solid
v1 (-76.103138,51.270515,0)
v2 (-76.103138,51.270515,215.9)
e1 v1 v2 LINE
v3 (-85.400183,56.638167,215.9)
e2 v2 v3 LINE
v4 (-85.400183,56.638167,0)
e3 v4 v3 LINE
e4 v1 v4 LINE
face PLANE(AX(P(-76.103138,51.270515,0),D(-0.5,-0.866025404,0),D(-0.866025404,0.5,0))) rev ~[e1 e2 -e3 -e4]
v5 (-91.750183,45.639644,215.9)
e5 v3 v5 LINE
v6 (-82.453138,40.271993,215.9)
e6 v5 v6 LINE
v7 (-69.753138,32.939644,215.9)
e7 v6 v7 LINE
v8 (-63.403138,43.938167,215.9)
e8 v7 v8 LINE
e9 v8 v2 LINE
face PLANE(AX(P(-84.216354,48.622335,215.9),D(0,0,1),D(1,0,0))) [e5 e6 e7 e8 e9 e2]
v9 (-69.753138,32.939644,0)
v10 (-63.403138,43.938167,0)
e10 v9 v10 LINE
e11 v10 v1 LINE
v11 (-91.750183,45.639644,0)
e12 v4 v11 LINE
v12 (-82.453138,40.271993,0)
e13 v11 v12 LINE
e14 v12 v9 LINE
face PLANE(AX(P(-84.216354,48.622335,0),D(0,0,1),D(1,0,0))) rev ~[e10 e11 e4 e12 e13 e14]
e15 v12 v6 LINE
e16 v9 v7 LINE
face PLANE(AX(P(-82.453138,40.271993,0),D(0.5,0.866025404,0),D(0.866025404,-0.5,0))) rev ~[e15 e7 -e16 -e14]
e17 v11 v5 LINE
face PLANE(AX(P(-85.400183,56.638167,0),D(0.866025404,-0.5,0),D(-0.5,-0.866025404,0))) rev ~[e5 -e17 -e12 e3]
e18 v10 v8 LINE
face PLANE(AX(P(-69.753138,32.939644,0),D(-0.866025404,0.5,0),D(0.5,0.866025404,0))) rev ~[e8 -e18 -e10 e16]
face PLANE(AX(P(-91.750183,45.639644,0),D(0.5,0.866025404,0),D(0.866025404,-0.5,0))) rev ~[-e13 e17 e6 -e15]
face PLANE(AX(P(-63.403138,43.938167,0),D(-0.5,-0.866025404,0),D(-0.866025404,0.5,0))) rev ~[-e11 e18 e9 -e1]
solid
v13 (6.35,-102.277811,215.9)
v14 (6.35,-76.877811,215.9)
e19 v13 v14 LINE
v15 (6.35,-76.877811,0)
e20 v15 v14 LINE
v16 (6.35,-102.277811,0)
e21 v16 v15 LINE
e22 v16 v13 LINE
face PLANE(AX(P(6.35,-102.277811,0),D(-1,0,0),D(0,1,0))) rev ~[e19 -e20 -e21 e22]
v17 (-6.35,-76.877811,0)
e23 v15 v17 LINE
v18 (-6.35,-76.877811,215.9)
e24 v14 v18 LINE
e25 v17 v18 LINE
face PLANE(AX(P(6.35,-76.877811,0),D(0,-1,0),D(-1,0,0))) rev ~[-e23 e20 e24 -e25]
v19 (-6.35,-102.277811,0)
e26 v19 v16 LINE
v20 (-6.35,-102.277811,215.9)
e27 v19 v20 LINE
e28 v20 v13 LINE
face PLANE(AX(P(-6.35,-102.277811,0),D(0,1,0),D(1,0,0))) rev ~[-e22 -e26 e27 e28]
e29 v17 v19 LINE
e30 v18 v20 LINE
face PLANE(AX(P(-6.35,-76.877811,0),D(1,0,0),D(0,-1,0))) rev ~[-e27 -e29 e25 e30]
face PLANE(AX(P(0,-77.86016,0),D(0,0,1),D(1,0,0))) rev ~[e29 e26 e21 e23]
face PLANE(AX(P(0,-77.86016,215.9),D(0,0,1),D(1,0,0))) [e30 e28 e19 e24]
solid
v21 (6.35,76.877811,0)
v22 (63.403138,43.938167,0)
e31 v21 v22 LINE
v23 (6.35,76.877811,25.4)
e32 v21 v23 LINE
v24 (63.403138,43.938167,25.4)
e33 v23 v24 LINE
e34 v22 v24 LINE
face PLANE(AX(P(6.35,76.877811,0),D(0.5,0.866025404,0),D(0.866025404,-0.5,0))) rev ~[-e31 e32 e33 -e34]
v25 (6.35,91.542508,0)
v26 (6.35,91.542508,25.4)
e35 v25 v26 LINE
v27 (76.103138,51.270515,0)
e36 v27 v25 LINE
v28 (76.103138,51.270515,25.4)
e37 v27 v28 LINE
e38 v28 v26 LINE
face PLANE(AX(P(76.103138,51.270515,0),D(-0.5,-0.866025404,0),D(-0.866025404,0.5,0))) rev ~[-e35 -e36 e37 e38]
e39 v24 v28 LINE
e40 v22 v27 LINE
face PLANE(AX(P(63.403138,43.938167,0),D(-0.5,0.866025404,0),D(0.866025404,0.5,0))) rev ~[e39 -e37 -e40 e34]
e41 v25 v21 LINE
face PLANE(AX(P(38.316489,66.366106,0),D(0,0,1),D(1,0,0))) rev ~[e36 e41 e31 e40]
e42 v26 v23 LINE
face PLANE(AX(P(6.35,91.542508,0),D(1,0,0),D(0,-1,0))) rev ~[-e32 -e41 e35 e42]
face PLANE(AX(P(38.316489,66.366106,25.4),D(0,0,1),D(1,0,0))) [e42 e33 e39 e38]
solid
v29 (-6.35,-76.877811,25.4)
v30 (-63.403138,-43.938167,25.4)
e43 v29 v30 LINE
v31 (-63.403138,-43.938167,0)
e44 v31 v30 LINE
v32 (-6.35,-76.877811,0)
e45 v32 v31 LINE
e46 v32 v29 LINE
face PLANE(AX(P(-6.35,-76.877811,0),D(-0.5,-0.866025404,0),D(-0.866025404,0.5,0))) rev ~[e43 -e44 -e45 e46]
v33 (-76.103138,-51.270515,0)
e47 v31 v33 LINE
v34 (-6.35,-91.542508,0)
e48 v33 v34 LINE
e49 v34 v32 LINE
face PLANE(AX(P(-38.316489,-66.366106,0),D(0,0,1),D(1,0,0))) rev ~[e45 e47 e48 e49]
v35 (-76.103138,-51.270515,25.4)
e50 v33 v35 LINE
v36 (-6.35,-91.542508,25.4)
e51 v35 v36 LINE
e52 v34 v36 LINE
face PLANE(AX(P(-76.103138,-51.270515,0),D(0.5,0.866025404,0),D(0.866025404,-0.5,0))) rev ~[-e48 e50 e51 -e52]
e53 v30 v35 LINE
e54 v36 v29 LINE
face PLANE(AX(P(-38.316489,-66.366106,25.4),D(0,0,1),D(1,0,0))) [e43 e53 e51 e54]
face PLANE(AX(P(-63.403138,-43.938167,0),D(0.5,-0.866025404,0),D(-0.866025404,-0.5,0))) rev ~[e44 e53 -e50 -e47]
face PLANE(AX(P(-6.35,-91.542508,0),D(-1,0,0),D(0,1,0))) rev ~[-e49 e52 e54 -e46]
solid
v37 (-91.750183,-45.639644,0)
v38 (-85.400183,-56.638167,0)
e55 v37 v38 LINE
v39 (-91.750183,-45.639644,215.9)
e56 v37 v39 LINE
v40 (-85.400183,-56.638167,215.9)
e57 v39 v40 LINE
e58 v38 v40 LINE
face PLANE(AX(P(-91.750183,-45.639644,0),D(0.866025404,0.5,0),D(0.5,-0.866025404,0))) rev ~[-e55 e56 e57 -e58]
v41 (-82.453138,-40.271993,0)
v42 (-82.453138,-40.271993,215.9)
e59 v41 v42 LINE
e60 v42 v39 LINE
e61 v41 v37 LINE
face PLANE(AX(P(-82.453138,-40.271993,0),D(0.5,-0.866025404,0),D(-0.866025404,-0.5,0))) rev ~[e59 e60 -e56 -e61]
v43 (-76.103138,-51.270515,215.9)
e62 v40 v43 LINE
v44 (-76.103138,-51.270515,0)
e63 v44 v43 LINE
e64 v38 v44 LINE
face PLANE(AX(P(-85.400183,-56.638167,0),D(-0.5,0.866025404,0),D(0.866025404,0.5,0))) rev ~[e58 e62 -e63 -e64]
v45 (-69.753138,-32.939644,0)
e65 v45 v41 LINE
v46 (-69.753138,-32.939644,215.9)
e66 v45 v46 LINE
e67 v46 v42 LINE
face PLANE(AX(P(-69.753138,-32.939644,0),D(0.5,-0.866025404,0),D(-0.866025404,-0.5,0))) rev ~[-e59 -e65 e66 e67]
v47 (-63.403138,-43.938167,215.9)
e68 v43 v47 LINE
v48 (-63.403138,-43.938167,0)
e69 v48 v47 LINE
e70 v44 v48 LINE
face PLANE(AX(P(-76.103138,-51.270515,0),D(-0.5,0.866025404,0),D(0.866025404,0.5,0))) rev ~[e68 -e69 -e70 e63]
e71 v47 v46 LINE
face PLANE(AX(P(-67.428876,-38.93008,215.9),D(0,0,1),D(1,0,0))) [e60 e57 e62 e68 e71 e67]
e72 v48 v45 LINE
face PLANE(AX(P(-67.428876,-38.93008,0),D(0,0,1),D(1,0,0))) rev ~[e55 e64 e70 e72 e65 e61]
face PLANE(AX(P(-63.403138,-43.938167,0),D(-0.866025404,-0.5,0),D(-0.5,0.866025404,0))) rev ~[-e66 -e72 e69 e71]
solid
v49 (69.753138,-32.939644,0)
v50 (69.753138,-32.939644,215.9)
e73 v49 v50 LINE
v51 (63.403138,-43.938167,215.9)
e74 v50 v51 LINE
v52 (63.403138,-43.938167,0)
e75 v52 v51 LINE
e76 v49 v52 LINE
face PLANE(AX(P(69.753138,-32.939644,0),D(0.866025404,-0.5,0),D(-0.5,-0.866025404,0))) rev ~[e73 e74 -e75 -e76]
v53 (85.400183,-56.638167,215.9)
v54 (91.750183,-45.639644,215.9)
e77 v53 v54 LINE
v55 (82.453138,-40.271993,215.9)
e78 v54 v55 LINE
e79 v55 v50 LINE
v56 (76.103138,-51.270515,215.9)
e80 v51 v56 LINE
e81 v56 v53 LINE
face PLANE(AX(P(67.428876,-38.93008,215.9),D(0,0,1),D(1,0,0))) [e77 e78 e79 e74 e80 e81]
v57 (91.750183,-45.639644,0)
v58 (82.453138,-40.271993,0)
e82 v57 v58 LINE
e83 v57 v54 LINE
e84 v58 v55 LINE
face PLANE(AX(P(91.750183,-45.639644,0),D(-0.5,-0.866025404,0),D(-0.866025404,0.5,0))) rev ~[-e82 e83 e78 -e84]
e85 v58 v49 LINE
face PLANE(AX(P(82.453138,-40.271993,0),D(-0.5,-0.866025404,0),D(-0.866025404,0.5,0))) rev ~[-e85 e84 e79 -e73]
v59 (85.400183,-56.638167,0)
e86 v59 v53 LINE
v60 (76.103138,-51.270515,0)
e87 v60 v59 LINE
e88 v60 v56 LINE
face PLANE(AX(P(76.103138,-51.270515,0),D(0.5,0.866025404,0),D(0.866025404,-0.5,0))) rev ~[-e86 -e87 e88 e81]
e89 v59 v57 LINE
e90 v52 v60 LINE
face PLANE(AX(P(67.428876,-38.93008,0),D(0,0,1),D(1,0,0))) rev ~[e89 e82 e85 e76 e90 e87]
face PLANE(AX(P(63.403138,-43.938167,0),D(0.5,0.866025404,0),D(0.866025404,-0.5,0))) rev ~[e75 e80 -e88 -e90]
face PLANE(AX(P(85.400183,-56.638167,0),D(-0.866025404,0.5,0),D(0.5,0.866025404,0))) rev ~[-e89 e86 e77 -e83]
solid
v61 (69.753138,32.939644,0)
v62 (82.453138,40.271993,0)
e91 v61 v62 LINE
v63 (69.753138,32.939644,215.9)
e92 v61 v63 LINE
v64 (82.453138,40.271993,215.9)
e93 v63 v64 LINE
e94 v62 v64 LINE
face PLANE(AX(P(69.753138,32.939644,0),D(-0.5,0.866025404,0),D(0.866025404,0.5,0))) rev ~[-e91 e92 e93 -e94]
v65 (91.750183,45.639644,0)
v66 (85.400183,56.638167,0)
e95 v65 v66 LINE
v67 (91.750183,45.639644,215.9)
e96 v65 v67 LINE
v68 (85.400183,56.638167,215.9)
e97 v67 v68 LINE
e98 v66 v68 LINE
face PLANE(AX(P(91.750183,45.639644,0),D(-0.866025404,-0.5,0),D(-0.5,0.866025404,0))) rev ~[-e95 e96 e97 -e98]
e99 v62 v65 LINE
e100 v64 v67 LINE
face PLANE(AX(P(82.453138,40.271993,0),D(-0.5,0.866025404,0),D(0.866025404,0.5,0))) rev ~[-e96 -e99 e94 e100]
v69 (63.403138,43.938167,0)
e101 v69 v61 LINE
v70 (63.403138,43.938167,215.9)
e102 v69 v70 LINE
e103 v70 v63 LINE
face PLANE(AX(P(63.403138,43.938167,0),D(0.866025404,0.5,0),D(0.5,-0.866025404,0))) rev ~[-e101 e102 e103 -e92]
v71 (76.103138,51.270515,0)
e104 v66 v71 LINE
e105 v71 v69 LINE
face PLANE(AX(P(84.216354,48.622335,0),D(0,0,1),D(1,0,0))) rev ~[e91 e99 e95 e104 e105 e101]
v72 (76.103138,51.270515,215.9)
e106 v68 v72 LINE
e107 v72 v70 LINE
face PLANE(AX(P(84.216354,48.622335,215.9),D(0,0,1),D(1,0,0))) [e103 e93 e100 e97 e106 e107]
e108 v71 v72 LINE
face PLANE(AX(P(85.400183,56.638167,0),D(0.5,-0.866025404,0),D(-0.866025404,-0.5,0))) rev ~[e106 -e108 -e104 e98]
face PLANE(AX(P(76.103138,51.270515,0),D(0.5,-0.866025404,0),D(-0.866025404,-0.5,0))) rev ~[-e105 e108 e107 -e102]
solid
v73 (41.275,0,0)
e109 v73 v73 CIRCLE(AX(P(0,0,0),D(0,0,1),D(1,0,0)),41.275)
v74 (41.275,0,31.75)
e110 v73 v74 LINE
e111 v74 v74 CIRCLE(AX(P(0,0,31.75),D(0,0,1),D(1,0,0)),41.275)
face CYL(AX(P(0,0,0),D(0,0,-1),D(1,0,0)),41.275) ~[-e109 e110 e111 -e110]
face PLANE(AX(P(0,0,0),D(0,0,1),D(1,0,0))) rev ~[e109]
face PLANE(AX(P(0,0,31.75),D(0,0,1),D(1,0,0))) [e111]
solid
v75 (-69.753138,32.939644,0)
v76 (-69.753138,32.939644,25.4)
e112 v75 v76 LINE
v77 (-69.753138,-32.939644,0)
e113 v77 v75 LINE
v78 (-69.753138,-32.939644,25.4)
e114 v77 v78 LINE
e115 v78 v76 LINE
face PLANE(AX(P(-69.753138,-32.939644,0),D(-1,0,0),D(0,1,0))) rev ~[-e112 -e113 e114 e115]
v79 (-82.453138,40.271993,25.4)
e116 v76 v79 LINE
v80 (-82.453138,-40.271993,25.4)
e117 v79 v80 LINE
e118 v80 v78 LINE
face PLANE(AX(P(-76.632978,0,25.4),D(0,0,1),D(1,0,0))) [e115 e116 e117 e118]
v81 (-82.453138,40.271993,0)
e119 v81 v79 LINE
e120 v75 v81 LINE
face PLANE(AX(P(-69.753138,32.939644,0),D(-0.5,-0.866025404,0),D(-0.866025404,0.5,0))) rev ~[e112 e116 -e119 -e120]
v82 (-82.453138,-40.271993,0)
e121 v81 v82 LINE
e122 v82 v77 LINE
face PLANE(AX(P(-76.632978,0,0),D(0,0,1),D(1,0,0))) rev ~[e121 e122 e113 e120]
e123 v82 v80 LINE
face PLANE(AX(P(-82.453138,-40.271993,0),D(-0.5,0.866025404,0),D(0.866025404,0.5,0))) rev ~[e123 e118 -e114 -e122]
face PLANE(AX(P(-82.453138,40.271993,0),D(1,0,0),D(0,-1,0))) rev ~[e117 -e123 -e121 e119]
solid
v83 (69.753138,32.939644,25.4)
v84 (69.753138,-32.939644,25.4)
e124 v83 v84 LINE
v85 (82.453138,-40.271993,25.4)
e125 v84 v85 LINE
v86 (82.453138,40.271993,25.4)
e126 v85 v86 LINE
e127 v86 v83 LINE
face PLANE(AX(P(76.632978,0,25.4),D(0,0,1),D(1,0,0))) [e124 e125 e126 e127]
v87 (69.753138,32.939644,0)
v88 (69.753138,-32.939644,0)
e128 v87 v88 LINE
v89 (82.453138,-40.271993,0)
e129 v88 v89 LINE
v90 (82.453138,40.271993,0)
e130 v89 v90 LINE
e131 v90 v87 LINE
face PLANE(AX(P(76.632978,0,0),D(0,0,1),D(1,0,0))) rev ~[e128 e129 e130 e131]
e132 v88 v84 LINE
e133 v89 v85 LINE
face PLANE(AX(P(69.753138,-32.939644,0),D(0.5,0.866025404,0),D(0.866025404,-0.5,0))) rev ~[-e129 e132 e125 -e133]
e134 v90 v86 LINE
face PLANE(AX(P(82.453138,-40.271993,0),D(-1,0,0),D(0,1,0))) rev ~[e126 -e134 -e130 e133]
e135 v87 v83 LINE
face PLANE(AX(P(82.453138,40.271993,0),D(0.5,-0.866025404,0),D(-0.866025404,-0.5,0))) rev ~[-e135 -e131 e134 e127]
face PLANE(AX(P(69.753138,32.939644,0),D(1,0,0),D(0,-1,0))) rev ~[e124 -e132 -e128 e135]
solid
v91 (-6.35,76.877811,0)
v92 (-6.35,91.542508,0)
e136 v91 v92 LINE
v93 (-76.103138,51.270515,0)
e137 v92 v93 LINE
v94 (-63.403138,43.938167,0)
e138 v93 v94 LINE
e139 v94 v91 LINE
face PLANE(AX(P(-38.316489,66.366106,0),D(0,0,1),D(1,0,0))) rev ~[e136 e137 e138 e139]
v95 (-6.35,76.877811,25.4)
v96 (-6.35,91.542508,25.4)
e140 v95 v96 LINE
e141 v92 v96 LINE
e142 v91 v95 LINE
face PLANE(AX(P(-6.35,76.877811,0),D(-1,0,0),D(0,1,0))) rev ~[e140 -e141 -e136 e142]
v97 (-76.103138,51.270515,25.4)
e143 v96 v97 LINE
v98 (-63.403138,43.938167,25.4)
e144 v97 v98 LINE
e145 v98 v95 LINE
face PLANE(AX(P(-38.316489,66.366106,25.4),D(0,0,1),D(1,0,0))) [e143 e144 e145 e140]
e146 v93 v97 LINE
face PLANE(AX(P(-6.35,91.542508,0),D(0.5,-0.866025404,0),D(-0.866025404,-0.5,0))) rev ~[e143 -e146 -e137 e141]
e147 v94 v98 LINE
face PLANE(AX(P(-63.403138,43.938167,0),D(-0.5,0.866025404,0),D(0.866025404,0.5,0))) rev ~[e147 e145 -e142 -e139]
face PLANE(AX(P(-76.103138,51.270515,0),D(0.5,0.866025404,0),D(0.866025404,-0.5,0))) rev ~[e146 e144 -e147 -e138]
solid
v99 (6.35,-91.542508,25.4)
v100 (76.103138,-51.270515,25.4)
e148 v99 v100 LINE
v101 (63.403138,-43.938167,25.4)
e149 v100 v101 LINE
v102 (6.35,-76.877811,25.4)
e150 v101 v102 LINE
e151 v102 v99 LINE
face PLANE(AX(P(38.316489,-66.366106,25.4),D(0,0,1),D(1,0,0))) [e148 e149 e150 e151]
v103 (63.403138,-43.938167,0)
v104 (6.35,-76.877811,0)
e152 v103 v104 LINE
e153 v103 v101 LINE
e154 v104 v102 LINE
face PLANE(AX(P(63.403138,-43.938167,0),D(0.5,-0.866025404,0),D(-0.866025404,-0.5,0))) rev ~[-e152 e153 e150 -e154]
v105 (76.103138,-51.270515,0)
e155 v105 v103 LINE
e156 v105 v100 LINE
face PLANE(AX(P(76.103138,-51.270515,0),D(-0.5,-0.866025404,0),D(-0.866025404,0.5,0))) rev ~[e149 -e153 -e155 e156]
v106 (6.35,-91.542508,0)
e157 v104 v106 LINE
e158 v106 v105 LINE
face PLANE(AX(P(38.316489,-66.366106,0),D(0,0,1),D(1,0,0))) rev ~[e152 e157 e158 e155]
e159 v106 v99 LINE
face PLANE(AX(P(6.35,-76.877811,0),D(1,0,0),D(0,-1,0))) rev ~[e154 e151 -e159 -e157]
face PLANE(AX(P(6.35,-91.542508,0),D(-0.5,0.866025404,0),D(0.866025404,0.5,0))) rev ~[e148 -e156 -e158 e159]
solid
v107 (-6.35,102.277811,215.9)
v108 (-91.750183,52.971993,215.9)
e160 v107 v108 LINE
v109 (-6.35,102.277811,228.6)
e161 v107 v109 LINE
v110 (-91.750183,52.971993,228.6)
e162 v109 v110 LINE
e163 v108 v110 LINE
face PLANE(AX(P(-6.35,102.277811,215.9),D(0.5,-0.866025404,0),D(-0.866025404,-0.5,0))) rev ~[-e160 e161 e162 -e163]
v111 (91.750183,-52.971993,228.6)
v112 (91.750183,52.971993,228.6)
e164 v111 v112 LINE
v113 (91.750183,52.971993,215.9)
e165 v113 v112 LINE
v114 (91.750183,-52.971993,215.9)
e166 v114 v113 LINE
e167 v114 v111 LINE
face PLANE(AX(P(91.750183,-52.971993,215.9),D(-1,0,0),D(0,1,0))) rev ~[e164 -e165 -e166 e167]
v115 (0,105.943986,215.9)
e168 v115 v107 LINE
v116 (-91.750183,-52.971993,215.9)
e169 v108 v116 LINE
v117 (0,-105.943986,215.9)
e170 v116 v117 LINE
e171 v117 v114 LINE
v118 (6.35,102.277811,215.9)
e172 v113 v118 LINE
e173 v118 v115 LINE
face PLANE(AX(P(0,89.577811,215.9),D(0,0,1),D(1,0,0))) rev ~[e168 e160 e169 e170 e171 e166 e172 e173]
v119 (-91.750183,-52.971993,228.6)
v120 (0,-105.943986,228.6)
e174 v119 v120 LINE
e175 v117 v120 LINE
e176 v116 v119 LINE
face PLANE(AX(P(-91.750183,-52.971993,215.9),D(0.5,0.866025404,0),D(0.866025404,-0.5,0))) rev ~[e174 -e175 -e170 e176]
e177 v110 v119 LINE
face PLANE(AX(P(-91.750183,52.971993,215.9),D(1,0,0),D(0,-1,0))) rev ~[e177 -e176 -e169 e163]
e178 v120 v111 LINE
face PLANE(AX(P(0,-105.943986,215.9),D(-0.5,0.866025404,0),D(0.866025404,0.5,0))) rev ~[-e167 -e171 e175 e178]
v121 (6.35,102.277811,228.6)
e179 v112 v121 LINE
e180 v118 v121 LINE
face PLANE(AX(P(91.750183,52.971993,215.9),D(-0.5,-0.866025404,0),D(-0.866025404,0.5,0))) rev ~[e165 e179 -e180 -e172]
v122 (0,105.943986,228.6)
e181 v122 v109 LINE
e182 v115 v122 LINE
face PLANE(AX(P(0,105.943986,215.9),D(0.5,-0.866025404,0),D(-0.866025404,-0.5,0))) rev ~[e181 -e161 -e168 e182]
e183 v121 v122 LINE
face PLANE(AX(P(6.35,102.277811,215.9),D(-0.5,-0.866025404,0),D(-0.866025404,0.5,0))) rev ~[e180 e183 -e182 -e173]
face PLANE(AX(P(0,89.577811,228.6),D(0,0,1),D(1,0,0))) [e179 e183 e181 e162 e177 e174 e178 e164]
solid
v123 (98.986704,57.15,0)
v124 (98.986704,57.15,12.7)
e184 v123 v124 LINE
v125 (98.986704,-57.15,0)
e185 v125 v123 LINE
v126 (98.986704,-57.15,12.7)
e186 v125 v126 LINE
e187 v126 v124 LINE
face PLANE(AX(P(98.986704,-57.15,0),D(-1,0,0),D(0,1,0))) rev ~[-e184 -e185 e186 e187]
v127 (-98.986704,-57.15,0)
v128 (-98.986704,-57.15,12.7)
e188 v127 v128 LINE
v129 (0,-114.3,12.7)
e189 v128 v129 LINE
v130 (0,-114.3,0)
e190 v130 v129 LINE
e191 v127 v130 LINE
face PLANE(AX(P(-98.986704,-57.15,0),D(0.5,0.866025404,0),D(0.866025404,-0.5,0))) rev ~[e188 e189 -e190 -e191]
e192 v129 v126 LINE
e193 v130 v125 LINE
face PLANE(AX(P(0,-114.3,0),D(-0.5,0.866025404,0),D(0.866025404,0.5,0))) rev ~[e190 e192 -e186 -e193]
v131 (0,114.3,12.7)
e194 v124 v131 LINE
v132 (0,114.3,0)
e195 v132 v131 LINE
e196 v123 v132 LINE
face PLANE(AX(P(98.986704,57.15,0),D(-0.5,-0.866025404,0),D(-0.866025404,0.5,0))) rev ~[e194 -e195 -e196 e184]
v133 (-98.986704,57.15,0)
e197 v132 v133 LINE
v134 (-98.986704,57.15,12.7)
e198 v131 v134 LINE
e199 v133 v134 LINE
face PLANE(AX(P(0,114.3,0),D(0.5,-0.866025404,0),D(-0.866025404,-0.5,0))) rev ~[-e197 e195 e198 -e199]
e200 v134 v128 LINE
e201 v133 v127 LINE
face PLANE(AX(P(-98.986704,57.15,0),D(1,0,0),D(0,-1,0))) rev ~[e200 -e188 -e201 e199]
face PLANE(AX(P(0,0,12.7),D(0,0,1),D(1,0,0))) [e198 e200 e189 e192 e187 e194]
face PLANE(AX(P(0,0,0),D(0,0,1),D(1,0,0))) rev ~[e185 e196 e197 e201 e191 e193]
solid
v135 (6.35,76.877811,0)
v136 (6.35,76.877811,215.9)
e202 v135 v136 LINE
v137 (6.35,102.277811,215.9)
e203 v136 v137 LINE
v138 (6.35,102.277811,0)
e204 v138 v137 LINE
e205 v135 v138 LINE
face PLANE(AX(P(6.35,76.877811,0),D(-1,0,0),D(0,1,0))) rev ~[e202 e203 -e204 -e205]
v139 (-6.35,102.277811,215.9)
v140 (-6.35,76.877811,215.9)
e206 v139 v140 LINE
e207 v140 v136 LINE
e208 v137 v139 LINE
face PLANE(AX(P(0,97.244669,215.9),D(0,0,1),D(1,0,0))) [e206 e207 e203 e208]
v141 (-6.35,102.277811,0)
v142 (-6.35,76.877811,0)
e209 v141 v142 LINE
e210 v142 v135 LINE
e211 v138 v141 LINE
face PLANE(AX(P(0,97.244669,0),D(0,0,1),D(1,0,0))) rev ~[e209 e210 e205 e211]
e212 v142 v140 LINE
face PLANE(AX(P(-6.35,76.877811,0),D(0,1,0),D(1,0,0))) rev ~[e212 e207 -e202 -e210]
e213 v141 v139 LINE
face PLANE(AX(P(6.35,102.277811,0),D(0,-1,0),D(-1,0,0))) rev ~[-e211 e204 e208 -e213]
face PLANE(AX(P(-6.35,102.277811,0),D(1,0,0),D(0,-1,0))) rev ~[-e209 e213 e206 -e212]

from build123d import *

# Parameters (mm, degrees)
F0_R     = 41.275
F1_DEPTH = 12.7
F2_DEPTH = 25.4
F3_DEPTH = 215.9
F4_DEPTH = 31.75
F5_W     = 12.7
F5_H     = 25.4
F6_DEPTH = 12.7


with BuildPart() as f1:
    # F0 (on Top) → F1 (new body)
    with BuildSketch(Plane.XY):
        Polygon((98.9867036526, -57.15), (98.9867036526, 57.15), (0, 114.3), (-98.9867036526, 57.15), (-98.9867036526, -57.15), (0, -114.3), align=None)
        Polygon((91.7501829945, 45.6396444314), (82.4531377384, 40.2719928501), (82.4531377384, -40.2719928501), (91.7501829945, -45.6396444314), (85.4001829945, -56.6381670594), (76.1031377384, -51.2705154782), (6.35, -91.5425083282), (6.35, -102.2778114908), (-6.35, -102.2778114908), (-6.35, -91.5425083282), (-76.1031377384, -51.2705154782), (-85.4001829945, -56.6381670594), (-91.7501829945, -45.6396444314), (-82.4531377384, -40.2719928501), (-82.4531377384, 40.2719928501), (-91.7501829945, 45.6396444314), (-85.4001829945, 56.6381670594), (-76.1031377384, 51.2705154782), (-6.35, 91.5425083282), (-6.35, 102.2778114908), (6.35, 102.2778114908), (6.35, 91.5425083282), (76.1031377384, 51.2705154782), (85.4001829945, 56.6381670594), align=None, mode=Mode.SUBTRACT)
        Polygon((69.7531377384, -32.9396444314), (69.7531377384, 32.9396444314), (63.4031377384, 43.9381670594), (6.35, 76.8778114908), (-6.35, 76.8778114908), (-63.4031377384, 43.9381670594), (-69.7531377384, 32.9396444314), (-69.7531377384, -32.9396444314), (-63.4031377384, -43.9381670594), (-6.35, -76.8778114908), (6.35, -76.8778114908), (63.4031377384, -43.9381670594), align=None)
        Circle(F0_R, mode=Mode.SUBTRACT)
        Circle(F0_R)
        Polygon((63.4031377384, 43.9381670594), (76.1031377384, 51.2705154782), (6.35, 91.5425083282), (6.35, 76.8778114908), align=None)
        Polygon((6.35, -91.5425083282), (76.1031377384, -51.2705154782), (63.4031377384, -43.9381670594), (6.35, -76.8778114908), align=None)
        Polygon((82.4531377384, -40.2719928501), (82.4531377384, 40.2719928501), (69.7531377384, 32.9396444314), (69.7531377384, -32.9396444314), align=None)
        Polygon((-6.35, 76.8778114908), (-6.35, 91.5425083282), (-76.1031377384, 51.2705154782), (-63.4031377384, 43.9381670594), align=None)
        Polygon((-69.7531377384, -32.9396444314), (-69.7531377384, 32.9396444314), (-82.4531377384, 40.2719928501), (-82.4531377384, -40.2719928501), align=None)
        Polygon((-6.35, -91.5425083282), (-6.35, -76.8778114908), (-63.4031377384, -43.9381670594), (-76.1031377384, -51.2705154782), align=None)
        Polygon((82.4531377384, 40.2719928501), (82.4531377384, 47.6043412688), (76.1031377384, 51.2705154782), (63.4031377384, 43.9381670594), (69.7531377384, 40.2719928501), (69.7531377384, 32.9396444314), align=None)
        Polygon((0, -95.2086825376), (6.35, -91.5425083282), (6.35, -76.8778114908), (0, -80.5439857002), (-6.35, -76.8778114908), (-6.35, -91.5425083282), align=None)
        Polygon((82.4531377384, -47.6043412688), (82.4531377384, -40.2719928501), (69.7531377384, -32.9396444314), (69.7531377384, -40.2719928501), (63.4031377384, -43.9381670594), (76.1031377384, -51.2705154782), align=None)
        Polygon((6.35, 76.8778114908), (6.35, 91.5425083282), (0, 95.2086825376), (-6.35, 91.5425083282), (-6.35, 76.8778114908), (0, 80.5439857002), align=None)
        Polygon((-63.4031377384, 43.9381670594), (-76.1031377384, 51.2705154782), (-82.4531377384, 47.6043412688), (-82.4531377384, 40.2719928501), (-69.7531377384, 32.9396444314), (-69.7531377384, 40.2719928501), align=None)
        Polygon((-76.1031377384, -51.2705154782), (-63.4031377384, -43.9381670594), (-69.7531377384, -40.2719928501), (-69.7531377384, -32.9396444314), (-82.4531377384, -40.2719928501), (-82.4531377384, -47.6043412688), align=None)
        Polygon((76.1031377384, 51.2705154782), (82.4531377384, 47.6043412688), (82.4531377384, 40.2719928501), (91.7501829945, 45.6396444314), (85.4001829945, 56.6381670594), align=None)
        Polygon((91.7501829945, -45.6396444314), (82.4531377384, -40.2719928501), (82.4531377384, -47.6043412688), (76.1031377384, -51.2705154782), (85.4001829945, -56.6381670594), align=None)
        Polygon((6.35, -102.2778114908), (6.35, -91.5425083282), (0, -95.2086825376), (-6.35, -91.5425083282), (-6.35, -102.2778114908), align=None)
        Polygon((0, 95.2086825376), (6.35, 91.5425083282), (6.35, 102.2778114908), (-6.35, 102.2778114908), (-6.35, 91.5425083282), align=None)
        Polygon((-82.4531377384, 47.6043412688), (-76.1031377384, 51.2705154782), (-85.4001829945, 56.6381670594), (-91.7501829945, 45.6396444314), (-82.4531377384, 40.2719928501), align=None)
        Polygon((-85.4001829945, -56.6381670594), (-76.1031377384, -51.2705154782), (-82.4531377384, -47.6043412688), (-82.4531377384, -40.2719928501), (-91.7501829945, -45.6396444314), align=None)
        Polygon((0, -80.5439857002), (6.35, -76.8778114908), (-6.35, -76.8778114908), align=None)
        Polygon((-6.35, 76.8778114908), (6.35, 76.8778114908), (0, 80.5439857002), align=None)
        Polygon((69.7531377384, -40.2719928501), (69.7531377384, -32.9396444314), (63.4031377384, -43.9381670594), align=None)
        Polygon((-69.7531377384, 32.9396444314), (-63.4031377384, 43.9381670594), (-69.7531377384, 40.2719928501), align=None)
        Polygon((-69.7531377384, -40.2719928501), (-63.4031377384, -43.9381670594), (-69.7531377384, -32.9396444314), align=None)
        Polygon((63.4031377384, 43.9381670594), (69.7531377384, 32.9396444314), (69.7531377384, 40.2719928501), align=None)
    extrude(amount=F1_DEPTH)


with BuildPart() as f2:
    # F0 (on Top) → F2 (new body)
    with BuildSketch(Plane.XY):
        Polygon((-69.7531377384, -32.9396444314), (-69.7531377384, 32.9396444314), (-82.4531377384, 40.2719928501), (-82.4531377384, -40.2719928501), align=None)
    extrude(amount=F2_DEPTH)


with BuildPart() as f2b:
    # F0 (on Top) → F2, piece 2 (new body)
    with BuildSketch(Plane.XY):
        Polygon((-6.35, 76.8778114908), (-6.35, 91.5425083282), (-76.1031377384, 51.2705154782), (-63.4031377384, 43.9381670594), align=None)
    extrude(amount=F2_DEPTH)


with BuildPart() as f2c:
    # F0 (on Top) → F2, piece 3 (new body)
    with BuildSketch(Plane.XY):
        Polygon((63.4031377384, 43.9381670594), (76.1031377384, 51.2705154782), (6.35, 91.5425083282), (6.35, 76.8778114908), align=None)
    extrude(amount=F2_DEPTH)


with BuildPart() as f2d:
    # F0 (on Top) → F2, piece 4 (new body)
    with BuildSketch(Plane.XY):
        Polygon((82.4531377384, -40.2719928501), (82.4531377384, 40.2719928501), (69.7531377384, 32.9396444314), (69.7531377384, -32.9396444314), align=None)
    extrude(amount=F2_DEPTH)


with BuildPart() as f2e:
    # F0 (on Top) → F2, piece 5 (new body)
    with BuildSketch(Plane.XY):
        Polygon((6.35, -91.5425083282), (76.1031377384, -51.2705154782), (63.4031377384, -43.9381670594), (6.35, -76.8778114908), align=None)
    extrude(amount=F2_DEPTH)


with BuildPart() as f2f:
    # F0 (on Top) → F2, piece 6 (new body)
    with BuildSketch(Plane.XY):
        Polygon((-6.35, -91.5425083282), (-6.35, -76.8778114908), (-63.4031377384, -43.9381670594), (-76.1031377384, -51.2705154782), align=None)
    extrude(amount=F2_DEPTH)


with BuildPart() as f3:
    # F0 (on Top) → F3 (new body)
    with BuildSketch(Plane.XY):
        Polygon((-82.4531377384, 47.6043412688), (-76.1031377384, 51.2705154782), (-85.4001829945, 56.6381670594), (-91.7501829945, 45.6396444314), (-82.4531377384, 40.2719928501), align=None)
        Polygon((-63.4031377384, 43.9381670594), (-76.1031377384, 51.2705154782), (-82.4531377384, 47.6043412688), (-82.4531377384, 40.2719928501), (-69.7531377384, 32.9396444314), (-69.7531377384, 40.2719928501), align=None)
        Polygon((-69.7531377384, 32.9396444314), (-63.4031377384, 43.9381670594), (-69.7531377384, 40.2719928501), align=None)
    extrude(amount=F3_DEPTH)


with BuildPart() as f3b:
    # F0 (on Top) → F3, piece 2 (new body)
    with BuildSketch(Plane.XY):
        Polygon((-69.7531377384, -40.2719928501), (-63.4031377384, -43.9381670594), (-69.7531377384, -32.9396444314), align=None)
        Polygon((-76.1031377384, -51.2705154782), (-63.4031377384, -43.9381670594), (-69.7531377384, -40.2719928501), (-69.7531377384, -32.9396444314), (-82.4531377384, -40.2719928501), (-82.4531377384, -47.6043412688), align=None)
        Polygon((-85.4001829945, -56.6381670594), (-76.1031377384, -51.2705154782), (-82.4531377384, -47.6043412688), (-82.4531377384, -40.2719928501), (-91.7501829945, -45.6396444314), align=None)
    extrude(amount=F3_DEPTH)


with BuildPart() as f3c:
    # F0 (on Top) → F3, piece 3 (new body)
    with BuildSketch(Plane.XY):
        Polygon((0, 95.2086825376), (6.35, 91.5425083282), (6.35, 102.2778114908), (-6.35, 102.2778114908), (-6.35, 91.5425083282), align=None)
        Polygon((6.35, 76.8778114908), (6.35, 91.5425083282), (0, 95.2086825376), (-6.35, 91.5425083282), (-6.35, 76.8778114908), (0, 80.5439857002), align=None)
        Polygon((-6.35, 76.8778114908), (6.35, 76.8778114908), (0, 80.5439857002), align=None)
    extrude(amount=F3_DEPTH)


with BuildPart() as f3d:
    # F0 (on Top) → F3, piece 4 (new body)
    with BuildSketch(Plane.XY):
        Polygon((76.1031377384, 51.2705154782), (82.4531377384, 47.6043412688), (82.4531377384, 40.2719928501), (91.7501829945, 45.6396444314), (85.4001829945, 56.6381670594), align=None)
        Polygon((82.4531377384, 40.2719928501), (82.4531377384, 47.6043412688), (76.1031377384, 51.2705154782), (63.4031377384, 43.9381670594), (69.7531377384, 40.2719928501), (69.7531377384, 32.9396444314), align=None)
        Polygon((63.4031377384, 43.9381670594), (69.7531377384, 32.9396444314), (69.7531377384, 40.2719928501), align=None)
    extrude(amount=F3_DEPTH)


with BuildPart() as f3e:
    # F0 (on Top) → F3, piece 5 (new body)
    with BuildSketch(Plane.XY):
        Polygon((69.7531377384, -40.2719928501), (69.7531377384, -32.9396444314), (63.4031377384, -43.9381670594), align=None)
        Polygon((82.4531377384, -47.6043412688), (82.4531377384, -40.2719928501), (69.7531377384, -32.9396444314), (69.7531377384, -40.2719928501), (63.4031377384, -43.9381670594), (76.1031377384, -51.2705154782), align=None)
        Polygon((91.7501829945, -45.6396444314), (82.4531377384, -40.2719928501), (82.4531377384, -47.6043412688), (76.1031377384, -51.2705154782), (85.4001829945, -56.6381670594), align=None)
    extrude(amount=F3_DEPTH)


with BuildPart() as f3f:
    # F0 (on Top) → F3, piece 6 (new body)
    with BuildSketch(Plane.XY):
        Polygon((0, -80.5439857002), (6.35, -76.8778114908), (-6.35, -76.8778114908), align=None)
        Polygon((0, -95.2086825376), (6.35, -91.5425083282), (6.35, -76.8778114908), (0, -80.5439857002), (-6.35, -76.8778114908), (-6.35, -91.5425083282), align=None)
        Polygon((6.35, -102.2778114908), (6.35, -91.5425083282), (0, -95.2086825376), (-6.35, -91.5425083282), (-6.35, -102.2778114908), align=None)
    extrude(amount=F3_DEPTH)


with BuildPart() as f4:
    # F0 (on Top) → F4 (new body)
    with BuildSketch(Plane.XY):
        Circle(F0_R)
    extrude(amount=F4_DEPTH)


with BuildPart() as f6:
    # F5 (on face) → F6 (new body)
    with BuildSketch(Plane.XY.offset(215.9)):
        with Locations((0, 89.5778114908)):
            Rectangle(F5_W, F5_H)
        Polygon((91.7501829945, -52.9719928501), (91.7501829945, 52.9719928501), (6.35, 102.2778114908), (6.35, 76.8778114908), (-6.35, 76.8778114908), (-6.35, 102.2778114908), (-91.7501829945, 52.9719928501), (-91.7501829945, -52.9719928501), (0, -105.9439857002), align=None)
        Polygon((-6.35, 102.2778114908), (6.35, 102.2778114908), (0, 105.9439857002), align=None)
    extrude(amount=F6_DEPTH)


solid = Compound([f1.part, f2.part, f2b.part, f2c.part, f2d.part, f2e.part, f2f.part, f3.part, f3b.part, f3c.part, f3d.part, f3e.part, f3f.part, f4.part, f6.part])
